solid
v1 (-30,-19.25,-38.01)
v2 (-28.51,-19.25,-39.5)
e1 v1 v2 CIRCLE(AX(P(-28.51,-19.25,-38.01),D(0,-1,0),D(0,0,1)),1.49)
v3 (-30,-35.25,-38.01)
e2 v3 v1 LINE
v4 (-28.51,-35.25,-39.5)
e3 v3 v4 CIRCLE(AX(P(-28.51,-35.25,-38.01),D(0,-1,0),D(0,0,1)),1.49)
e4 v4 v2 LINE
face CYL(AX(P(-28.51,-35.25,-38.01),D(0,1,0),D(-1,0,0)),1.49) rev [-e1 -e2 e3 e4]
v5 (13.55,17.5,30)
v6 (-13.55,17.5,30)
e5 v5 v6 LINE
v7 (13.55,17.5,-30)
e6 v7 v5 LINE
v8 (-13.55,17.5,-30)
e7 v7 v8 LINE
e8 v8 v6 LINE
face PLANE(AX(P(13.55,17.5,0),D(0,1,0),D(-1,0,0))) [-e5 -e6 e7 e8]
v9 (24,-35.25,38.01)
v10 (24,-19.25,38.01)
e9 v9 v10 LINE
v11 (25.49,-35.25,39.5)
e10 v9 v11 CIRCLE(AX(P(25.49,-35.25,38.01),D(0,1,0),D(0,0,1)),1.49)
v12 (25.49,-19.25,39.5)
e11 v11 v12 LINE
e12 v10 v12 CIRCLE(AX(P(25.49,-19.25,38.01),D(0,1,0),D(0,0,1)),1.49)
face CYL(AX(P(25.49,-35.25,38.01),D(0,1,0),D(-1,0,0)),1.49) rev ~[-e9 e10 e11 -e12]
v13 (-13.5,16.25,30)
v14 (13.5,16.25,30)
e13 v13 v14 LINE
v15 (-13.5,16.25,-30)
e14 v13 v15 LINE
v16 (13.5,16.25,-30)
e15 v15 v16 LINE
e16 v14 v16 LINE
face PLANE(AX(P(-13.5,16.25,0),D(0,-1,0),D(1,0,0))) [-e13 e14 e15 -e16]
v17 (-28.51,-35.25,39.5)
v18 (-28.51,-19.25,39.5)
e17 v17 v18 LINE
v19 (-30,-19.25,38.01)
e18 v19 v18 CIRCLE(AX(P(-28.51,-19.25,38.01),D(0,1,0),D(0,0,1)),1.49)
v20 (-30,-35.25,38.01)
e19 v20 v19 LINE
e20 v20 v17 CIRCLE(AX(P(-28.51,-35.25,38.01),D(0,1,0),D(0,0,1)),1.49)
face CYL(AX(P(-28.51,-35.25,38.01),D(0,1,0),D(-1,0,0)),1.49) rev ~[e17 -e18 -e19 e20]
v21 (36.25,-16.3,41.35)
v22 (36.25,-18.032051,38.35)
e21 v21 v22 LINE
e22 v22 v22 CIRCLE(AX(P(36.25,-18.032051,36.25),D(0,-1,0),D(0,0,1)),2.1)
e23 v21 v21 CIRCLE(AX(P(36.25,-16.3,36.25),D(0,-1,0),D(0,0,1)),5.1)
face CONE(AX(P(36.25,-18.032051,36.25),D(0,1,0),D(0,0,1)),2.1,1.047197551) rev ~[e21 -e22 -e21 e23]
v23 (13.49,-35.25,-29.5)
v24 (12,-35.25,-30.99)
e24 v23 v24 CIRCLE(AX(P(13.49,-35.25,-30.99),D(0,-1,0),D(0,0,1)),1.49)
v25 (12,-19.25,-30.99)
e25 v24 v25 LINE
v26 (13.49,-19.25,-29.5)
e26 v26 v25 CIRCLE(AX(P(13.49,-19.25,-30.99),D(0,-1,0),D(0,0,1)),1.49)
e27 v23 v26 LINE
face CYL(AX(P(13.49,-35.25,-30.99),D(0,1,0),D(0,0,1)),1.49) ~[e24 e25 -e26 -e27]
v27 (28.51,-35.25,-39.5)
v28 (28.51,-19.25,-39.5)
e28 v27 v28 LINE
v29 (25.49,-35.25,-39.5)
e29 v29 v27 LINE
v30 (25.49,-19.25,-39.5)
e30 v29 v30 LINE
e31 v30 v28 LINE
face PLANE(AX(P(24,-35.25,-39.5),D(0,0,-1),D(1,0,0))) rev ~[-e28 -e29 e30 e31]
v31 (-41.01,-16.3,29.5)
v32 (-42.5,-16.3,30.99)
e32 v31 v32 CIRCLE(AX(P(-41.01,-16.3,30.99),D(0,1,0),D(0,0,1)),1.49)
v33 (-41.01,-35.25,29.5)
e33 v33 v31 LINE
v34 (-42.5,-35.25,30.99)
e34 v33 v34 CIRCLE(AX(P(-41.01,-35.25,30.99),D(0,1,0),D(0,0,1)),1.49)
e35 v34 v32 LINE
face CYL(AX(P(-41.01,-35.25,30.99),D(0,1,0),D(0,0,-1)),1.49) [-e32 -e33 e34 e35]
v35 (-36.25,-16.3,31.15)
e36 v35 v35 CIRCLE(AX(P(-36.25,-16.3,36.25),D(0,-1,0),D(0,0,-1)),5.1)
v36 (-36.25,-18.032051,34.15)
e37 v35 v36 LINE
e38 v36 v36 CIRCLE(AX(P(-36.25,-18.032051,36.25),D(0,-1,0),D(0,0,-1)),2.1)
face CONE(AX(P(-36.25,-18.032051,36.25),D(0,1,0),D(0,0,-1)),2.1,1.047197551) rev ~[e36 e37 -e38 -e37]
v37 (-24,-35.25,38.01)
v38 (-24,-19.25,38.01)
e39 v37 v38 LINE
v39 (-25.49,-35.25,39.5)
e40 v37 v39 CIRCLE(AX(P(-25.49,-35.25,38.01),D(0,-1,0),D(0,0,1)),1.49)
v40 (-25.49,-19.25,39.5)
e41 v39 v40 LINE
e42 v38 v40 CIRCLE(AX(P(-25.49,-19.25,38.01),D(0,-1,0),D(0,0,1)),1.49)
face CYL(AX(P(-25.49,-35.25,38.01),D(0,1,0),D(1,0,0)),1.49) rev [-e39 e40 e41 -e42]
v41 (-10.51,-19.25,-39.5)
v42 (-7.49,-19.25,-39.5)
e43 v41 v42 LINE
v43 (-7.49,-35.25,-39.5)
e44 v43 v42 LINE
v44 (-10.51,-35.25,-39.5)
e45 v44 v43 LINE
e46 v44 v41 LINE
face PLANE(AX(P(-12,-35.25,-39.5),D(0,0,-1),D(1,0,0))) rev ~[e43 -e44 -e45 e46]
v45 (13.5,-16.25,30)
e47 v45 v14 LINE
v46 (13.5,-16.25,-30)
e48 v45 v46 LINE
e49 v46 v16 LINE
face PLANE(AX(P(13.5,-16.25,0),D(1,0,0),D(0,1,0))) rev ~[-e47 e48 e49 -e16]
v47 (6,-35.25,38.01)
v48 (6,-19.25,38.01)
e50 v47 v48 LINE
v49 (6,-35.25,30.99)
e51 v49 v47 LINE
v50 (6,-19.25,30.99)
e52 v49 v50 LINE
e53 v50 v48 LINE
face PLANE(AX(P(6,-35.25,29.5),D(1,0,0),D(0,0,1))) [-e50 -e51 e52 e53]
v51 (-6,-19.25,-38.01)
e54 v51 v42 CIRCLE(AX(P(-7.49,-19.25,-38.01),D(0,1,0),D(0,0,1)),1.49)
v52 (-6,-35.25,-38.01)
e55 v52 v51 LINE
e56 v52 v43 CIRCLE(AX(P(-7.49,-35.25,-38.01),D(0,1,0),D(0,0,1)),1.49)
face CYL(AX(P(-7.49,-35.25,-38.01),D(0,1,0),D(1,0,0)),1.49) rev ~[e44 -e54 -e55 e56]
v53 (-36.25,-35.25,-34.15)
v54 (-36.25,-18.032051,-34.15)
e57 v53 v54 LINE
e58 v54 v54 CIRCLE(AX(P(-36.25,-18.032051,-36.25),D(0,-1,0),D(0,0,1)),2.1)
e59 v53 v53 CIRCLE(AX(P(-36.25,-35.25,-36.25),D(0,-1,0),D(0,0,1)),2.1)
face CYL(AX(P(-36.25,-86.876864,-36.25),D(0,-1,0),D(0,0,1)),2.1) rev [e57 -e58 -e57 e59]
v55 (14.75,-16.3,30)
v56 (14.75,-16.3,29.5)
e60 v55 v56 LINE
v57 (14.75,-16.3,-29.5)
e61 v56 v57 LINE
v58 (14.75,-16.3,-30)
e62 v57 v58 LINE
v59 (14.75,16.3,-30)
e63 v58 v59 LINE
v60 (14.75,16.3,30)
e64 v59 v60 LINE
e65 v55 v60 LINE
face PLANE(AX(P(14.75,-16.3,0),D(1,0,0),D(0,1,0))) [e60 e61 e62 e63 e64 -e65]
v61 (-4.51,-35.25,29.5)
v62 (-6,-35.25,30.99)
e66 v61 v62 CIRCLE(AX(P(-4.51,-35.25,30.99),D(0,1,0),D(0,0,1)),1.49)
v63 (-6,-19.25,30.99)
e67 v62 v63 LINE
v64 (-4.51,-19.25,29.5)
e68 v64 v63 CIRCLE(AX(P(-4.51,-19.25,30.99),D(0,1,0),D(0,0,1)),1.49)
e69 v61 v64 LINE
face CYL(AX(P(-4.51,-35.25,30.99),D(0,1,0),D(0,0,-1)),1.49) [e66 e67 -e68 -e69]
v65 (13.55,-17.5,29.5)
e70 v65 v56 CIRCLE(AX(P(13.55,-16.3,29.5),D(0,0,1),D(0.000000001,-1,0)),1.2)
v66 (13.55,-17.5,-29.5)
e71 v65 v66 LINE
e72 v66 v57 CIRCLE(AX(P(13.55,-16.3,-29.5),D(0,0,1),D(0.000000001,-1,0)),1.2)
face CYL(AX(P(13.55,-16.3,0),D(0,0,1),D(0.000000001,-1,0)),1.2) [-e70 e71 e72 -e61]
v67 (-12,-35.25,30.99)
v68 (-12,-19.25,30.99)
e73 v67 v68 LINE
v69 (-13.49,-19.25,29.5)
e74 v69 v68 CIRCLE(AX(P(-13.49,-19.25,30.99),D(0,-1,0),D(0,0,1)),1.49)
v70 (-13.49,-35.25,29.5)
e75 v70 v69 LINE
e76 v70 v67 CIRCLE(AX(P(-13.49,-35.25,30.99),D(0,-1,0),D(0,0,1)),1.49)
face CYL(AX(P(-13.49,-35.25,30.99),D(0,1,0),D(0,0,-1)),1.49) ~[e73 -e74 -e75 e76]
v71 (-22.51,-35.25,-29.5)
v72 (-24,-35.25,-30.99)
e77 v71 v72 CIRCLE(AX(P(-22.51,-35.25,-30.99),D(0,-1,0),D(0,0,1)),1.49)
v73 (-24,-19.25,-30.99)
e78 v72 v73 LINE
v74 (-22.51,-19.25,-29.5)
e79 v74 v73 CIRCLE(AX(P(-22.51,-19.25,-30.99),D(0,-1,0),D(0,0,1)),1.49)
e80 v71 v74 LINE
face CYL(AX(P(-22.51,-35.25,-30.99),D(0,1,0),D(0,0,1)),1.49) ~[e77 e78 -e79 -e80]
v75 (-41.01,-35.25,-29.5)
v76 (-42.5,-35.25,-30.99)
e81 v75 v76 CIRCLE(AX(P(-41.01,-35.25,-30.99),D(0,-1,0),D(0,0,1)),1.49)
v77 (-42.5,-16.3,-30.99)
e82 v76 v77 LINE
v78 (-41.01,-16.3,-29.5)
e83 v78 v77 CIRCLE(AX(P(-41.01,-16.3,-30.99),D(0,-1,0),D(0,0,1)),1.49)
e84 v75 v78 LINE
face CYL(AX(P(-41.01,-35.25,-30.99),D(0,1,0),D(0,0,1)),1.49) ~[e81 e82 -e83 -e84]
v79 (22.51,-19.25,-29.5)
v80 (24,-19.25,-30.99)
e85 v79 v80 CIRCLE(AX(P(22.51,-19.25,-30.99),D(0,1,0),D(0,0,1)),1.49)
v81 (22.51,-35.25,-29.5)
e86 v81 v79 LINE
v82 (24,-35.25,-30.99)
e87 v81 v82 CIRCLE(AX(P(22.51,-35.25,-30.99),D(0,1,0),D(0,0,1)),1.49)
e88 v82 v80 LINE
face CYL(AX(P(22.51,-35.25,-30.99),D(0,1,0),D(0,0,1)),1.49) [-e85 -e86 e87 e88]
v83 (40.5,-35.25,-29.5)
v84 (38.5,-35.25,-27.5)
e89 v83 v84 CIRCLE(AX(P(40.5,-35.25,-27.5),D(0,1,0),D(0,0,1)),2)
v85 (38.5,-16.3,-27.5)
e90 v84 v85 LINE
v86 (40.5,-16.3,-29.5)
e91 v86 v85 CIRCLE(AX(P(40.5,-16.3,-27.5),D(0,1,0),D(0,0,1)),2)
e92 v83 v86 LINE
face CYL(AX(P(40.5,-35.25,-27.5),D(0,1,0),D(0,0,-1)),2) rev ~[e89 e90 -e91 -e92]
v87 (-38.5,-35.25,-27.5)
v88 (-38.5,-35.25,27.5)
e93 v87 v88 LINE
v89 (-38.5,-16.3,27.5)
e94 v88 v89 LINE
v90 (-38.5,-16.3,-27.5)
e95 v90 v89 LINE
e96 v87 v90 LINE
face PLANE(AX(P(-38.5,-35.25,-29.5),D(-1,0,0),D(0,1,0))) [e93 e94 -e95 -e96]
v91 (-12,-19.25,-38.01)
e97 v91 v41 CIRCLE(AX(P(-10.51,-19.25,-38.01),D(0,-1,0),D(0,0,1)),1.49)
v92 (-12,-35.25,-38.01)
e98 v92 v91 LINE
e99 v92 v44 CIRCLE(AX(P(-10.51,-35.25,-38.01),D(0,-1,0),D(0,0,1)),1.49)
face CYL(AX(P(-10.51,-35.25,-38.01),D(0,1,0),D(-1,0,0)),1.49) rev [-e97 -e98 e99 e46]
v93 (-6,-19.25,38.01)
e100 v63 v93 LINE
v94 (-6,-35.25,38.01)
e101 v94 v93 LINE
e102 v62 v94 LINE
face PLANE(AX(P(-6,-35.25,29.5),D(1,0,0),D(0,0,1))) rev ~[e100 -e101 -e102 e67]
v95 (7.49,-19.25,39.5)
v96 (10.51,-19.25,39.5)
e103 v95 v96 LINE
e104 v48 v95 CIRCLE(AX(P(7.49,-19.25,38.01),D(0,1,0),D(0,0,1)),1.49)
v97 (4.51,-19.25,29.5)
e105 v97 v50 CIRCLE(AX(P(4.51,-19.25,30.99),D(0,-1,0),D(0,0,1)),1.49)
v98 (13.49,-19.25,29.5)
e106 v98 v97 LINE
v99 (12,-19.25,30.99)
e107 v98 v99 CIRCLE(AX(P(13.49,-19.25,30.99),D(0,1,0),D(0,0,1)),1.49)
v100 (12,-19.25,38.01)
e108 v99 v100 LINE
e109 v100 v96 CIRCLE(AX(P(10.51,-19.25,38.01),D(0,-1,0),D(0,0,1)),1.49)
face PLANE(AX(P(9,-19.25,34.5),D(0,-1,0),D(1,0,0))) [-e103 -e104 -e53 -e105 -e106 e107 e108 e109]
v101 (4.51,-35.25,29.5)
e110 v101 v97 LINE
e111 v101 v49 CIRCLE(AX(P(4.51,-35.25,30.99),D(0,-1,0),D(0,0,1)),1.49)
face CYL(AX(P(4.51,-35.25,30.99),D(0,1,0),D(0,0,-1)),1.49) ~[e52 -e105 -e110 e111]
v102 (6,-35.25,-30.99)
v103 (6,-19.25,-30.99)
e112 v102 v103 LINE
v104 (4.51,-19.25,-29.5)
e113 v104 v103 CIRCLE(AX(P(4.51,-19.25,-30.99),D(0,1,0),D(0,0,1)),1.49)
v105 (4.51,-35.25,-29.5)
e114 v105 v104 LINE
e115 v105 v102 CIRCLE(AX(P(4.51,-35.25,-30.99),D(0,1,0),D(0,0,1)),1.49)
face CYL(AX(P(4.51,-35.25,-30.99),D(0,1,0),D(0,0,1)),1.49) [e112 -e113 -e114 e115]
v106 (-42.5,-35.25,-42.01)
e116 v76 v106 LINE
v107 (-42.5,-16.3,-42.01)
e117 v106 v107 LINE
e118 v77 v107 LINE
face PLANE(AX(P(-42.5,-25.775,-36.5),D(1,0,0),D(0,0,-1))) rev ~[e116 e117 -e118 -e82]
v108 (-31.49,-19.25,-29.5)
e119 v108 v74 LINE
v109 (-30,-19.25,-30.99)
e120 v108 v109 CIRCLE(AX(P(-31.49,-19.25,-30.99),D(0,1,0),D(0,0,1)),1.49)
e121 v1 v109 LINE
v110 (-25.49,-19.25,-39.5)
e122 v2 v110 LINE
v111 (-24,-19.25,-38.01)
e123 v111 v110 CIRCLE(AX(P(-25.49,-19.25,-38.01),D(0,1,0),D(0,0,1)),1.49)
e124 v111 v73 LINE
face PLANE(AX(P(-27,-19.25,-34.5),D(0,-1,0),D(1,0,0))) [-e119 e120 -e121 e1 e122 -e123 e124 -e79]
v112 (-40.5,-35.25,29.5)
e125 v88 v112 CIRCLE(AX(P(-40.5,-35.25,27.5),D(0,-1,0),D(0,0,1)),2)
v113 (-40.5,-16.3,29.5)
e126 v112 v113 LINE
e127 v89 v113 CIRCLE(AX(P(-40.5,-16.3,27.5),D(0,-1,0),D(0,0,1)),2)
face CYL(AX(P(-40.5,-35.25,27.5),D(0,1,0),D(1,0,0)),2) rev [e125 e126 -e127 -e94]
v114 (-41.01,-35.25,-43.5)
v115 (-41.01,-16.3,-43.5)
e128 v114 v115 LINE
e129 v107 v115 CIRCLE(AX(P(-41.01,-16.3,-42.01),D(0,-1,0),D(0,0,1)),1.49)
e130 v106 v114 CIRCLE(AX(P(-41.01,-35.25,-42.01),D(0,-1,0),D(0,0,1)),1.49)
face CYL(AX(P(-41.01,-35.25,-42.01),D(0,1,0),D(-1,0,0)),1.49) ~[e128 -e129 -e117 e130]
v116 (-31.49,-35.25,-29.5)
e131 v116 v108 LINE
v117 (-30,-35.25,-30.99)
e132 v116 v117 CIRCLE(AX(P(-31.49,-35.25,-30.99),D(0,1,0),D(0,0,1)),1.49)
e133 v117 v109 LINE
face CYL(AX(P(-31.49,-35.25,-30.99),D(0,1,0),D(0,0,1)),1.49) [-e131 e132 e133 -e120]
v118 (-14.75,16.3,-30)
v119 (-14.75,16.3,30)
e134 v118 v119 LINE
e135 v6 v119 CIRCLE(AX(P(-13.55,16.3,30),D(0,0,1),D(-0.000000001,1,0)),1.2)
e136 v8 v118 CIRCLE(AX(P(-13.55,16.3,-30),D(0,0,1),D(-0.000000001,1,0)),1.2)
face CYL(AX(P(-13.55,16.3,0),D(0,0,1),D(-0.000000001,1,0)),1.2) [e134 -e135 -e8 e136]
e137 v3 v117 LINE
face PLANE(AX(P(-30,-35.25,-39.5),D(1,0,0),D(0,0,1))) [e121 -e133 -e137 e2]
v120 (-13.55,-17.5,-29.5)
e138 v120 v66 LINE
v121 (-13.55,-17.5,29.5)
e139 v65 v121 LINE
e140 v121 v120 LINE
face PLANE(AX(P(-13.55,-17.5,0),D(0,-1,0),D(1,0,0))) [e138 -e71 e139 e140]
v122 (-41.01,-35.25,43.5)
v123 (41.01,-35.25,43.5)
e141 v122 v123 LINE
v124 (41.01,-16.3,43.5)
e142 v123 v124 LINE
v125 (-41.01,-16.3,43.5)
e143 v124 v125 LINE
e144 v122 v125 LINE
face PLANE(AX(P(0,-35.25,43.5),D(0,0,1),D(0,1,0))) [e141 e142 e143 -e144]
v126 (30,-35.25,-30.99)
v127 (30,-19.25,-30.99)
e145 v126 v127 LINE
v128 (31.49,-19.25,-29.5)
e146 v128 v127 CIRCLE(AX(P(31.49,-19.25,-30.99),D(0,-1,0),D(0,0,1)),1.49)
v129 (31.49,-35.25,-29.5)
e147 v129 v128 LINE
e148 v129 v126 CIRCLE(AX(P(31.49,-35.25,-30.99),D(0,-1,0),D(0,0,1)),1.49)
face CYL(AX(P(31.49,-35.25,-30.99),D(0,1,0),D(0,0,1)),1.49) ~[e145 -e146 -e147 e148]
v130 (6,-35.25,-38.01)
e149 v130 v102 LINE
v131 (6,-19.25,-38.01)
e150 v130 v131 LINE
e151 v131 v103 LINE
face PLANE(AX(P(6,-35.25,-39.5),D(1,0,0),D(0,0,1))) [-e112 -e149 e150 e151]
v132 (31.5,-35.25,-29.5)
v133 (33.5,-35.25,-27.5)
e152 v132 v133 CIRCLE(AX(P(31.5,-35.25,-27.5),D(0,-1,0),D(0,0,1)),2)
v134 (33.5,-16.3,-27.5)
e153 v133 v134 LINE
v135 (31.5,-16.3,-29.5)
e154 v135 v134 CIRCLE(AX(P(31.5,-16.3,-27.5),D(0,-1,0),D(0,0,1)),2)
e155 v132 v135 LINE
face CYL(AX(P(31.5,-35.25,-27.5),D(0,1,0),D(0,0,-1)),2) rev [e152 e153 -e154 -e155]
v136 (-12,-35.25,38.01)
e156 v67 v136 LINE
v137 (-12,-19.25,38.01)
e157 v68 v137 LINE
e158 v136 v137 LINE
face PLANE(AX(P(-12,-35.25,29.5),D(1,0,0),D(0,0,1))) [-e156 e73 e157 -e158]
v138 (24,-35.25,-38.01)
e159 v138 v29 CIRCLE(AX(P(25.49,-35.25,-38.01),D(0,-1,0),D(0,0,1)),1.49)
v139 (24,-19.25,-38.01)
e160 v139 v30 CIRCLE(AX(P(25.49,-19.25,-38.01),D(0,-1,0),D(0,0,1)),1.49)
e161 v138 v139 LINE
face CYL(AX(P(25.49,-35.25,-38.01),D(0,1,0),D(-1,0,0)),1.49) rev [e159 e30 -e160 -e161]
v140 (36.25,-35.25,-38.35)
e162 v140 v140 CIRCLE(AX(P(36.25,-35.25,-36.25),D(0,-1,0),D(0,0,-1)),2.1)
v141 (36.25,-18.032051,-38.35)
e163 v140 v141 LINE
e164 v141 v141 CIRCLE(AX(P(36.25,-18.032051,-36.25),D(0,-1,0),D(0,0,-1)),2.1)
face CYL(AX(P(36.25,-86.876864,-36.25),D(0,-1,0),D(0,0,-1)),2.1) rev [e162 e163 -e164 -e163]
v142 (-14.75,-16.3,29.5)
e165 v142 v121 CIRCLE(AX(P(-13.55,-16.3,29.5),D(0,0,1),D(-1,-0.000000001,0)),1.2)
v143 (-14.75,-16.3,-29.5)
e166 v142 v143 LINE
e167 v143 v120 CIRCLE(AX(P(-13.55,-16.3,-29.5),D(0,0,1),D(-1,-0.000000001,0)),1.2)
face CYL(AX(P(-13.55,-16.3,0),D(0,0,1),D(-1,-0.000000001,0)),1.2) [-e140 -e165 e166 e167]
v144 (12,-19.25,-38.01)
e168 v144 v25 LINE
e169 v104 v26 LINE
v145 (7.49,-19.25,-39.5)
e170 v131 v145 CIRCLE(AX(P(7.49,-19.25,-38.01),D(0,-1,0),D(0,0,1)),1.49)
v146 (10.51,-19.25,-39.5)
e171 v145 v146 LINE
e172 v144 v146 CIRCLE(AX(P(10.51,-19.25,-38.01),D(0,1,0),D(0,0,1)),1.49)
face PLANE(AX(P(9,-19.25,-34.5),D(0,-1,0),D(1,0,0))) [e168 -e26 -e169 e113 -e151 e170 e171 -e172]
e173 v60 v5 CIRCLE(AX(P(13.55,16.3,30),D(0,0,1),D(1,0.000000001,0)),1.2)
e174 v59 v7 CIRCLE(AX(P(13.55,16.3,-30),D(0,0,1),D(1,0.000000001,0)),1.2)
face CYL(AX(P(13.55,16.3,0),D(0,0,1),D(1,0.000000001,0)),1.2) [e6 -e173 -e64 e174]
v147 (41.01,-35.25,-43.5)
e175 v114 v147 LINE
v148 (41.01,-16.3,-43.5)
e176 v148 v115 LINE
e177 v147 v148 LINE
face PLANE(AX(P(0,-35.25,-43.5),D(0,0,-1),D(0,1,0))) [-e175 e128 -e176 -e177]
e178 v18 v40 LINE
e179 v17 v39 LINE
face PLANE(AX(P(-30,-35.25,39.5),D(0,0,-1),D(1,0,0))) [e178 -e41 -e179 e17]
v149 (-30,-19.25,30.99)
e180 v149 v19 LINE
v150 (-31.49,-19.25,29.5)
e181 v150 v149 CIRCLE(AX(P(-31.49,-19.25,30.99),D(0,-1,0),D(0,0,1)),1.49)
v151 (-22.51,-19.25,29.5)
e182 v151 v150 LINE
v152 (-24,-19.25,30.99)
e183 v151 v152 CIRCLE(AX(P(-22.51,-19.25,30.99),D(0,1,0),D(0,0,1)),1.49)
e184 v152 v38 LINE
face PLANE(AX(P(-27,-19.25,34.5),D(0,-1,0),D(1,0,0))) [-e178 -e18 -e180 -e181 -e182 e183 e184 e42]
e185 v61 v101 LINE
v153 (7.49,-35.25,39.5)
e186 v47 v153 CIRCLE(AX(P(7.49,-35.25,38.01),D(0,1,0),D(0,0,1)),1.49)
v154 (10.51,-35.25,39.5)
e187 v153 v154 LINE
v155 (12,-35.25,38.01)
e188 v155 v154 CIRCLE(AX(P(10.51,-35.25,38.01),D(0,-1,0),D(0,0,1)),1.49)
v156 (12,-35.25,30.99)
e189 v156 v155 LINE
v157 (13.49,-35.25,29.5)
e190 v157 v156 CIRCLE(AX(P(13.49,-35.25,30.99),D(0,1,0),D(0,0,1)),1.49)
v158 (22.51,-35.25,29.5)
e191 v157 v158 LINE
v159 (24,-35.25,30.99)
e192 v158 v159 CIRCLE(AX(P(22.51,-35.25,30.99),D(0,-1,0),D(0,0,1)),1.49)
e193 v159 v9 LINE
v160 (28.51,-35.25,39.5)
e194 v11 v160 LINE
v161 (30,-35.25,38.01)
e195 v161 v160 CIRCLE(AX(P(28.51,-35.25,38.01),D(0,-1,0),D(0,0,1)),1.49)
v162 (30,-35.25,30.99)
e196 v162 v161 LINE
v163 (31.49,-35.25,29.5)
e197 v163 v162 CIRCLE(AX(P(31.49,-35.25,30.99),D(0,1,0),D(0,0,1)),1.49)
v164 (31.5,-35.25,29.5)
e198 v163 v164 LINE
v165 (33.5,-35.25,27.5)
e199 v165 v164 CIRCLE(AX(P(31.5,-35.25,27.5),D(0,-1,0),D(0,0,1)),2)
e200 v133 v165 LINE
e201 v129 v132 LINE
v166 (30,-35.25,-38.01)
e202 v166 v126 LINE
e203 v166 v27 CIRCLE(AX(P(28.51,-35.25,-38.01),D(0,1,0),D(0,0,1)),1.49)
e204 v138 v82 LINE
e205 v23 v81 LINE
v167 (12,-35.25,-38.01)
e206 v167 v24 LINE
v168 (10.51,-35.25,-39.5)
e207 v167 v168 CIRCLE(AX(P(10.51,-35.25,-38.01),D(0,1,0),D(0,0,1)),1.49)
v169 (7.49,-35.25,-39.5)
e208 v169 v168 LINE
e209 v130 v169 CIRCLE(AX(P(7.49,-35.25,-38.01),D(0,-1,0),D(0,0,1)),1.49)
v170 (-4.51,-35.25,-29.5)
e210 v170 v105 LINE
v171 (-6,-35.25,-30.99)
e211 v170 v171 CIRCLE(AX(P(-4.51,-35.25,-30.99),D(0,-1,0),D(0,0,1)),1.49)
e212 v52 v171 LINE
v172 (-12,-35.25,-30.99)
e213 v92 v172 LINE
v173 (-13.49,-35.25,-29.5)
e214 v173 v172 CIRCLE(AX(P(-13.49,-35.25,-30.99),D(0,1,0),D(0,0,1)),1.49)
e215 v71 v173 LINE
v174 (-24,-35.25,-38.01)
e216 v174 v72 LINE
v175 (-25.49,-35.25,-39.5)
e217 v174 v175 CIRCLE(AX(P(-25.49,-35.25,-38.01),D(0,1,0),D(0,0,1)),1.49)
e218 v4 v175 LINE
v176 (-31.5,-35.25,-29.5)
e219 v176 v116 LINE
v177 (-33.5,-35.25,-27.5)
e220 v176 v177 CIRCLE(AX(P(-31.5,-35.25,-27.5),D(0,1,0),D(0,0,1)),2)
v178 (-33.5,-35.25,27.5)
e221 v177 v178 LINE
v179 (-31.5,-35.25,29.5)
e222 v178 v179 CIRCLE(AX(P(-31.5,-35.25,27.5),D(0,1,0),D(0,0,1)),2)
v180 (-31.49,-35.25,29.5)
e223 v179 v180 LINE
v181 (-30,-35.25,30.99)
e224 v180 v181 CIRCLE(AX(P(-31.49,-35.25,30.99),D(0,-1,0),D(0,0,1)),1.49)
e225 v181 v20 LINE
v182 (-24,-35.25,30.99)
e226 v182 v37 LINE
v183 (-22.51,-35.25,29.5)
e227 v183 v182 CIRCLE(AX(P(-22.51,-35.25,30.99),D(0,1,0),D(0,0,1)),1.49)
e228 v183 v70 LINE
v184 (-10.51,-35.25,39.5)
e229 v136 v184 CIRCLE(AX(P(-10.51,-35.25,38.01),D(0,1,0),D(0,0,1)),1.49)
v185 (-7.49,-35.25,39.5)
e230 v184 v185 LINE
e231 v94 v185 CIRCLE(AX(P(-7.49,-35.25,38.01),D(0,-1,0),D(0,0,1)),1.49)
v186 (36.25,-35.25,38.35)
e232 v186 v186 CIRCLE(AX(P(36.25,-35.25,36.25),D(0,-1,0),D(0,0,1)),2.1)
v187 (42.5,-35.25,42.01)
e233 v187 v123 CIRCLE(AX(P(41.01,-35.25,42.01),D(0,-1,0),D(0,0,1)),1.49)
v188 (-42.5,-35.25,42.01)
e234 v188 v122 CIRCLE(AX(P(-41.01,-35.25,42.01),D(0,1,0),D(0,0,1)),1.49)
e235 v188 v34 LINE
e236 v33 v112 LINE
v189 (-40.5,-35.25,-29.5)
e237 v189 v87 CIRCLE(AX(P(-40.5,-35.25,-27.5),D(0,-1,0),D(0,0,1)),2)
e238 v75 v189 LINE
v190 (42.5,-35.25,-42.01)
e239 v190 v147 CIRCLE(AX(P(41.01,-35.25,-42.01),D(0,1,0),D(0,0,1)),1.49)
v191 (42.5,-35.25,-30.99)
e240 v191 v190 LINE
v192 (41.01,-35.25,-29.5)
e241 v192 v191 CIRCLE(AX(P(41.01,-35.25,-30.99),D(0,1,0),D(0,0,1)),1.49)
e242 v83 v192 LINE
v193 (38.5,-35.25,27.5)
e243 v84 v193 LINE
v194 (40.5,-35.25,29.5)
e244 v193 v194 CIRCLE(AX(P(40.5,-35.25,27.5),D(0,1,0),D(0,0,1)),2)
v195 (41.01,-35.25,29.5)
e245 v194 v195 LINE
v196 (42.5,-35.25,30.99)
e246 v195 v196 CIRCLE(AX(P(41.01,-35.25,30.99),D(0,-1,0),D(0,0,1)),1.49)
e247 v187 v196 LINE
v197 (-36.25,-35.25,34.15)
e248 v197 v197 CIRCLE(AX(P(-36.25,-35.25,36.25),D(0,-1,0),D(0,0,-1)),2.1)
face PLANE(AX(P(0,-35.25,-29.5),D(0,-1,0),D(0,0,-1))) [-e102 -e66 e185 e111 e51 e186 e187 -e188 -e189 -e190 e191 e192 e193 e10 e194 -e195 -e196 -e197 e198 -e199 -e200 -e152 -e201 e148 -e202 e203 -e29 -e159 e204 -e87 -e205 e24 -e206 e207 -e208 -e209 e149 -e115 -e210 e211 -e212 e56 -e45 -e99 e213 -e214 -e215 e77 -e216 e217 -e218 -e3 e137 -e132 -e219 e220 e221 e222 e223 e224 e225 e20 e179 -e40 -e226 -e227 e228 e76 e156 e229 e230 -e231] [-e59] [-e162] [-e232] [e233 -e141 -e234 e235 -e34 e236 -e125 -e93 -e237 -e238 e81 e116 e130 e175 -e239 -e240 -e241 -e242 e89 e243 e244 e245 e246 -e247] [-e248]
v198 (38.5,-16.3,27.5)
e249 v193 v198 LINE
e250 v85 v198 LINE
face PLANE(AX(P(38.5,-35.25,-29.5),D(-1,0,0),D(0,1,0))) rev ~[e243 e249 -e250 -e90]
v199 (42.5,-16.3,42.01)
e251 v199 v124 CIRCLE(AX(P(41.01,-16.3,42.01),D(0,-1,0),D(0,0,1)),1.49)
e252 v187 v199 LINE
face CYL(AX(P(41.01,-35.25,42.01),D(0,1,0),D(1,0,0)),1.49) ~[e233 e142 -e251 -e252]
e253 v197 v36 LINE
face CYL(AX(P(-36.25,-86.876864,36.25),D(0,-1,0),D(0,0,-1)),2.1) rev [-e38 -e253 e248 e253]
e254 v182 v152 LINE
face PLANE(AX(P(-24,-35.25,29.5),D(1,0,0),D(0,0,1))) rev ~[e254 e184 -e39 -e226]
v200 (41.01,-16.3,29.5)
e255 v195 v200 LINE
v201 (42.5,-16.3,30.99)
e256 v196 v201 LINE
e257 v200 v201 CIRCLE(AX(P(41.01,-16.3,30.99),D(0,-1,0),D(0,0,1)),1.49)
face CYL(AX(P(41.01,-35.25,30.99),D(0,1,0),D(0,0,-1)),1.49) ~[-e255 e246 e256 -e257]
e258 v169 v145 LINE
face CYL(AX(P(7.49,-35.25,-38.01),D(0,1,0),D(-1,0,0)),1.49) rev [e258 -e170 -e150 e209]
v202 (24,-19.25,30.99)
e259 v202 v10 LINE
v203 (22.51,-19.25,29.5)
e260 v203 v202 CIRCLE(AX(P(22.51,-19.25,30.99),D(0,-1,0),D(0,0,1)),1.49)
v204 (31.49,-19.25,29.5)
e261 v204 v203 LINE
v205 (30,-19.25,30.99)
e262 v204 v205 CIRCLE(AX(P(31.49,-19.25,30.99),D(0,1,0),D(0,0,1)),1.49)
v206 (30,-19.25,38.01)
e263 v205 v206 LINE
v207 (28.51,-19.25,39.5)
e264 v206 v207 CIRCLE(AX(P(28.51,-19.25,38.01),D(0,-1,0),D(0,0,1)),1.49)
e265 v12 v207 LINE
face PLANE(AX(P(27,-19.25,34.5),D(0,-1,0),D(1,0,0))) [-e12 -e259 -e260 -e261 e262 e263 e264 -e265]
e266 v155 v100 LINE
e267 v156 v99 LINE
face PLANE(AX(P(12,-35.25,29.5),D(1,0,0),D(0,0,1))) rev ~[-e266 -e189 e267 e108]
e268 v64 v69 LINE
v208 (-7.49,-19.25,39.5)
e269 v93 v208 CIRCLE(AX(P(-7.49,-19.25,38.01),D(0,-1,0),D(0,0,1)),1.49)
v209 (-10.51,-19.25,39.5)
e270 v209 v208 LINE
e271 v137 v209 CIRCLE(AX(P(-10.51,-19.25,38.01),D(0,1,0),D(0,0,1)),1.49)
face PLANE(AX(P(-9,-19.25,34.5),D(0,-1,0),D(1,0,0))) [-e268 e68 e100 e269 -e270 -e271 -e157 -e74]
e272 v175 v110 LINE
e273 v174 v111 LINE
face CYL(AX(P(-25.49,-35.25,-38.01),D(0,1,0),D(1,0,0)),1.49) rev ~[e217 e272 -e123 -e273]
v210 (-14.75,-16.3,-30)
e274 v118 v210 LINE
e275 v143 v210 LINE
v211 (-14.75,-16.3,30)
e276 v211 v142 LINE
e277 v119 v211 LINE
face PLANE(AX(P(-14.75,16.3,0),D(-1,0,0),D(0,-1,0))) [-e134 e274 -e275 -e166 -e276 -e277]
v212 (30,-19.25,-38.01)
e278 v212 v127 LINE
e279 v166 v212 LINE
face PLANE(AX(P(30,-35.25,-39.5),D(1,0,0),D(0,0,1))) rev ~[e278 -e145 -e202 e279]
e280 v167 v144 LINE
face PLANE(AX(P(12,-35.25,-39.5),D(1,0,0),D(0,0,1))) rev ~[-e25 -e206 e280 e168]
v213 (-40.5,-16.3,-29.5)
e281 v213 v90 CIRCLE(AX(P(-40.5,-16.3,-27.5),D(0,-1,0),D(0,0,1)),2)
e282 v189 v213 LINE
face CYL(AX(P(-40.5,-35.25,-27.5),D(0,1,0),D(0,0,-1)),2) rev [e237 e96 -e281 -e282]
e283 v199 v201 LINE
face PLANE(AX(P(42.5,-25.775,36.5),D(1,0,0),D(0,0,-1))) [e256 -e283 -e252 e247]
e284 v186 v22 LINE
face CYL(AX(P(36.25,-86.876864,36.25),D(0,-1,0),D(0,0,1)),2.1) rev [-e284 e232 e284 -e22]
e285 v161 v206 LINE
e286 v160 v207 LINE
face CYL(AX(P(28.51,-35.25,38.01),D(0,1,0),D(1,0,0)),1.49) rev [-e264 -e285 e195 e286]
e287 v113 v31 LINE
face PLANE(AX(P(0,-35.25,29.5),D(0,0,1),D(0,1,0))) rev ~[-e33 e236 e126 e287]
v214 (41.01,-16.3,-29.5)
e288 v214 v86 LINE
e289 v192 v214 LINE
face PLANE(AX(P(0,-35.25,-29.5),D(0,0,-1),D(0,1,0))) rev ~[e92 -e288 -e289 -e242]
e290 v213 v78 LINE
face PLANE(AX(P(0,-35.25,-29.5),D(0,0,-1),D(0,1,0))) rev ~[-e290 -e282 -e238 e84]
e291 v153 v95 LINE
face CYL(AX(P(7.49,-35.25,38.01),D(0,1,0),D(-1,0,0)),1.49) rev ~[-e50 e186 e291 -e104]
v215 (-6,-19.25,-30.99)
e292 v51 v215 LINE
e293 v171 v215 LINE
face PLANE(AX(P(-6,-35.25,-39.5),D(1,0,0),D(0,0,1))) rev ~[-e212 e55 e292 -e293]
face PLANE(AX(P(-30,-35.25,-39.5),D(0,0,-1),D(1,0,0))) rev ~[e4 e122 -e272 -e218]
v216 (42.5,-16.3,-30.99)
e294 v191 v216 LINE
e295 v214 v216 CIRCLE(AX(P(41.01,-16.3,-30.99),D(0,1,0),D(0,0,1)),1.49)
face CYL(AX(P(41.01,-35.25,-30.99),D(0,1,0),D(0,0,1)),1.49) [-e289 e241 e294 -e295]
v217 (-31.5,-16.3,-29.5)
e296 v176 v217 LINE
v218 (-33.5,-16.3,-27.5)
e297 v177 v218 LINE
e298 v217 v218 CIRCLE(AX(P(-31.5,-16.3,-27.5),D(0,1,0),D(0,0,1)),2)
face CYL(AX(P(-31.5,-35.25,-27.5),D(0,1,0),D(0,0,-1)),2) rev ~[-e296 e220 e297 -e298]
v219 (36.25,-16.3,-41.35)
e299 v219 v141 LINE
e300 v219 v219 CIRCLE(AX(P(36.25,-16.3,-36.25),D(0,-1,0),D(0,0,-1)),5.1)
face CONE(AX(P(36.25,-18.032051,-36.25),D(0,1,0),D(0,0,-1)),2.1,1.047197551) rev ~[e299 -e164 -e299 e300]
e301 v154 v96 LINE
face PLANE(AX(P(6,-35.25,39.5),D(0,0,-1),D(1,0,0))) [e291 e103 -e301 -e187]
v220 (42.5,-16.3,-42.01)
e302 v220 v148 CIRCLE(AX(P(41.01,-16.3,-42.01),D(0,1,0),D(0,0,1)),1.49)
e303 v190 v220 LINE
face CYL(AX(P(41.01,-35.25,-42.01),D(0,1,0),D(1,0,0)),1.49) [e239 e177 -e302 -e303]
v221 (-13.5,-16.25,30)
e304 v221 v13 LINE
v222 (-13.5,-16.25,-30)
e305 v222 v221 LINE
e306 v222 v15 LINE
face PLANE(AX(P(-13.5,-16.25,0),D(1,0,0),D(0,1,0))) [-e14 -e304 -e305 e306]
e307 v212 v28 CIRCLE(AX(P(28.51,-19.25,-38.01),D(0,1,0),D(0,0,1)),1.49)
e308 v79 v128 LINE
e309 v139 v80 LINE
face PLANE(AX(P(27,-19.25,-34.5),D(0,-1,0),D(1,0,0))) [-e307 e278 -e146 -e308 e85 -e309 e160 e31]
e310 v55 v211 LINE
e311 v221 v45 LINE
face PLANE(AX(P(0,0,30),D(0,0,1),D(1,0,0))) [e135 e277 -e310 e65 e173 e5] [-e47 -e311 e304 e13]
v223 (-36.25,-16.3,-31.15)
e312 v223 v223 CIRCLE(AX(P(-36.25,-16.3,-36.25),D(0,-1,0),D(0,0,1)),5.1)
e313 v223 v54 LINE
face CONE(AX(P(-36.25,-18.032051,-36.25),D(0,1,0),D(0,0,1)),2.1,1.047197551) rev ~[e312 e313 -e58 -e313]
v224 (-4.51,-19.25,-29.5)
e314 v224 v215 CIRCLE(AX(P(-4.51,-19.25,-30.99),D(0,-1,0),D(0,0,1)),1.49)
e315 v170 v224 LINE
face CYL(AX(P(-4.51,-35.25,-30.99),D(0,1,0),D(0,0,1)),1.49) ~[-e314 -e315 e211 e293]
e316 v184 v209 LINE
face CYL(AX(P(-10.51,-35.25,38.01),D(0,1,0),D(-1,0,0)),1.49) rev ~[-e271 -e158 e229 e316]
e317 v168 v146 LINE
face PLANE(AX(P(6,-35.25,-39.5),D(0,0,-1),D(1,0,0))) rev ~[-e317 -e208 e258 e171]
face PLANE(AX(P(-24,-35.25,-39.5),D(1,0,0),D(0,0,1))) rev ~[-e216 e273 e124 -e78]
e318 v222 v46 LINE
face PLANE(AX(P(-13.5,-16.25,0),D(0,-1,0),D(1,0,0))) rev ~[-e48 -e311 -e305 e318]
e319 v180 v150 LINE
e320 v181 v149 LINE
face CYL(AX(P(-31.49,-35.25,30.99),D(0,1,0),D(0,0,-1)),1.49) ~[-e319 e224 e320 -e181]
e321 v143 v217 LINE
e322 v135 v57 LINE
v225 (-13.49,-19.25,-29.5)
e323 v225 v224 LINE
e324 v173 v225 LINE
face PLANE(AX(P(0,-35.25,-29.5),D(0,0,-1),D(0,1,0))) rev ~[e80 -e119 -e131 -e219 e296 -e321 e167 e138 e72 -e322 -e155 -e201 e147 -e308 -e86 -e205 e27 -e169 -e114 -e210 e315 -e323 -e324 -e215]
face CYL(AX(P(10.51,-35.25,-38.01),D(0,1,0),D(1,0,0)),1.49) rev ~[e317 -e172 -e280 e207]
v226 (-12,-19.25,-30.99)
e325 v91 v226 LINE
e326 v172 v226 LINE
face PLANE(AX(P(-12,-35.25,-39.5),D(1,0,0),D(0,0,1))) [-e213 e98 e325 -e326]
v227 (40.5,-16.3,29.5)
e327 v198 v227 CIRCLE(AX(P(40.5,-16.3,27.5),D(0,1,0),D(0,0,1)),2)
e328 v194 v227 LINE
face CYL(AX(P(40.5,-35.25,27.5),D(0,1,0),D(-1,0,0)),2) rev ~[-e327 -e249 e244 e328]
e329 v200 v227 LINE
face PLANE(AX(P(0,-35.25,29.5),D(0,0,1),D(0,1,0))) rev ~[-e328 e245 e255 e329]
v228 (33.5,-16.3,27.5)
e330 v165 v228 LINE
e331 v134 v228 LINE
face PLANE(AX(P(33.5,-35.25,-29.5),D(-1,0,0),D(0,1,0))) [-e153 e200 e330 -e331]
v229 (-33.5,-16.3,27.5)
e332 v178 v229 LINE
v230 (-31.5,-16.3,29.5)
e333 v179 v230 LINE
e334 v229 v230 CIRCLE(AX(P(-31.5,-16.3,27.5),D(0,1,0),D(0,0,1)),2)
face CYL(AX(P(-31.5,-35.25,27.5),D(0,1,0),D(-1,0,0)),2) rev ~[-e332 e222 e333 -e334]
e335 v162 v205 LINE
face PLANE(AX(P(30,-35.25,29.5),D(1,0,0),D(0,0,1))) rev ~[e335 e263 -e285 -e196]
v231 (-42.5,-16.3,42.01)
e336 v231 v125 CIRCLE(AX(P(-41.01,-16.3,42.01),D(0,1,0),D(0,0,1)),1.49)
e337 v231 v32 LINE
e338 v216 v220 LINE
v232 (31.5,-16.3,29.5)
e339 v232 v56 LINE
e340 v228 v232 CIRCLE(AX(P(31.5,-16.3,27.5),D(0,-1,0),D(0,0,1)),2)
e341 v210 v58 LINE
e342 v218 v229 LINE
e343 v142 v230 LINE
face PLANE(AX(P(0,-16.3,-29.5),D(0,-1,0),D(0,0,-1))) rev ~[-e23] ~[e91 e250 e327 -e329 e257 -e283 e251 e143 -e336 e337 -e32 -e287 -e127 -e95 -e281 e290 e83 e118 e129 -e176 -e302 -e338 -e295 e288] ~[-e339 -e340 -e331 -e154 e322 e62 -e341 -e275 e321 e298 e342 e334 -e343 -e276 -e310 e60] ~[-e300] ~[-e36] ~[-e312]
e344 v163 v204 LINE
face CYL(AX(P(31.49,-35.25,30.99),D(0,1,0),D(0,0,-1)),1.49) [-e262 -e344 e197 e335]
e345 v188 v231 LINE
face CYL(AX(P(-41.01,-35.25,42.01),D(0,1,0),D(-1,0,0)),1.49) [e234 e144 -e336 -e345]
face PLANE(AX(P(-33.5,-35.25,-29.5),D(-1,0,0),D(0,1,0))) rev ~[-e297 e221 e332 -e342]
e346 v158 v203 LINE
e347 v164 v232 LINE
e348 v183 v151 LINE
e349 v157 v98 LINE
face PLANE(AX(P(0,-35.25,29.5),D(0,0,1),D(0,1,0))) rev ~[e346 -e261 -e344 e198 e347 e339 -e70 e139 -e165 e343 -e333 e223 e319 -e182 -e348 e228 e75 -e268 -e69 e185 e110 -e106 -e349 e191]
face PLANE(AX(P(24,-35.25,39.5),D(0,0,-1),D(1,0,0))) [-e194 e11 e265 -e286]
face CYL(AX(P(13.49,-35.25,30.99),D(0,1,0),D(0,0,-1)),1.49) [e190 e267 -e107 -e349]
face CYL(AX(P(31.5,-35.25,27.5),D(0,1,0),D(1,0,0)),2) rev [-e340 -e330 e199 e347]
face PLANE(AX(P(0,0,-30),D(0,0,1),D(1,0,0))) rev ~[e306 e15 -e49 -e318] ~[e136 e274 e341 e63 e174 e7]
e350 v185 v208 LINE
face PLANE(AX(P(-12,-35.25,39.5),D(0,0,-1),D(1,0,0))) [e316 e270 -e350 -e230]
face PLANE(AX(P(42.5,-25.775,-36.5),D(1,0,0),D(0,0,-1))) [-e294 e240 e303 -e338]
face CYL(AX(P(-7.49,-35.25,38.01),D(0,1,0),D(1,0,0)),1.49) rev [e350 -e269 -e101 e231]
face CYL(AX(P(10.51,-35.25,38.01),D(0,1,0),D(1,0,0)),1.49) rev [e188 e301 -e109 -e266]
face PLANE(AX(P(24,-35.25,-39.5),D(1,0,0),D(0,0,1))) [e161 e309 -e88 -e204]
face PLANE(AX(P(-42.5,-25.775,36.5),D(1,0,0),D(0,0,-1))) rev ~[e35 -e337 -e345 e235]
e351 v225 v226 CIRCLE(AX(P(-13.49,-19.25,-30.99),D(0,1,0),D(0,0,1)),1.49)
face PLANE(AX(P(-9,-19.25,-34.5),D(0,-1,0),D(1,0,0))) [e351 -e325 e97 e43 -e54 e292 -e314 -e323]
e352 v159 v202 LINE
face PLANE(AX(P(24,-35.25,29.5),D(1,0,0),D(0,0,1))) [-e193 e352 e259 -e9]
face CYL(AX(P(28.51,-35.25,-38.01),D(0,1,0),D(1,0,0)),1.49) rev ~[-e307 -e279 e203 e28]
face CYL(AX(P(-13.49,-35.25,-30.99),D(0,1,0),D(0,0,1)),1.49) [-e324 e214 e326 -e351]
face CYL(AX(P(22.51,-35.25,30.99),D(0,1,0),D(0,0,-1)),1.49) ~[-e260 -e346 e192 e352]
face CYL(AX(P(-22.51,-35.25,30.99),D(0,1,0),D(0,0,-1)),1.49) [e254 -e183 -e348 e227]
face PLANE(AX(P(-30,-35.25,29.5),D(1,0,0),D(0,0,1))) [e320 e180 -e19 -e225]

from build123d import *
from OCP.BRepFilletAPI import BRepFilletAPI_MakeChamfer

# Parameters (mm, degrees)
SKETCH1_W               = 27
SKETCH1_H               = 32.5
BOSS_EXTRUDE1_DEPTH     = 30
SKETCH2_W               = 14
SKETCH2_H               = 18.95
BOSS_EXTRUDE2_DEPTH     = 42.5
SKETCH3_W               = 6
SKETCH3_H               = 10
CUT_EXTRUDE1_DEPTH      = 16
FILLET1_R               = 1.49
CUT_EXTRUDE2_DEPTH      = 70.576863971
CUT_EXTRUDE2_DEPTH_BACK = 70.576863971
SKETCH4_R               = 2.1
CHAMFER1_SIZE           = 3
CHAMFER1_SIZE2          = 1.732050808
SKETCH5_W               = 5
SKETCH5_H               = 18.95
BOSS_EXTRUDE3_DEPTH     = 59
FILLET2_R               = 2


with BuildPart() as part:
    # Sketch1 → Boss-Extrude1 (new, symmetric)
    with BuildSketch(Plane.XY):
        with BuildLine():
            Line((14.75, -16.3), (14.75, 16.3))
            ThreePointArc((14.75, 16.3), (14.398528137, 17.148528137), (13.55, 17.5))
            Line((13.55, 17.5), (-13.55, 17.5))
            ThreePointArc((-13.55, 17.5), (-14.398528137, 17.148528137), (-14.75, 16.3))
            Line((-14.75, 16.3), (-14.75, -16.3))
            ThreePointArc((-14.75, -16.3), (-14.398528137, -17.148528137), (-13.55, -17.5))
            Line((-13.55, -17.5), (13.55, -17.5))
            ThreePointArc((13.55, -17.5), (14.398528137, -17.148528137), (14.75, -16.3))
        make_face()
        Rectangle(SKETCH1_W, SKETCH1_H, mode=Mode.SUBTRACT)
    extrude(amount=BOSS_EXTRUDE1_DEPTH, both=True)

    # Sketch2 → Boss-Extrude2 (add, symmetric)
    with BuildSketch(Plane(origin=(0, 0, 0), x_dir=(0, 0, -1), z_dir=(1, 0, 0))):
        with Locations((-36.5, -25.775)):
            Rectangle(SKETCH2_W, SKETCH2_H)
        with Locations((36.5, -25.775)):
            Rectangle(SKETCH2_W, SKETCH2_H)
    extrude(amount=BOSS_EXTRUDE2_DEPTH, both=True)

    # Sketch3 → Cut-Extrude1 (cut)
    with BuildSketch(Plane.XZ.offset(35.25)):
        with Locations((-27, 34.5)):
            Rectangle(SKETCH3_W, SKETCH3_H)
        with Locations((-9, 34.5)):
            Rectangle(SKETCH3_W, SKETCH3_H)
        with Locations((27, 34.5)):
            Rectangle(SKETCH3_W, SKETCH3_H)
        with Locations((9, 34.5)):
            Rectangle(SKETCH3_W, SKETCH3_H)
        with Locations((9, -34.5)):
            Rectangle(SKETCH3_W, SKETCH3_H)
        with Locations((27, -34.5)):
            Rectangle(SKETCH3_W, SKETCH3_H)
        with Locations((-9, -34.5)):
            Rectangle(SKETCH3_W, SKETCH3_H)
        with Locations((-27, -34.5)):
            Rectangle(SKETCH3_W, SKETCH3_H)
    extrude(amount=-CUT_EXTRUDE1_DEPTH, mode=Mode.SUBTRACT)

    # Fillet1
    fillet1_edges = [part.edges().sort_by_distance(p)[0] for p in [
        (6, -27.25, -39.5),
        (12, -27.25, 39.5),
        (12, -27.25, 29.5),
        (6, -27.25, 29.5),
        (6, -27.25, 39.5),
        (30, -27.25, 39.5),
        (30, -27.25, 29.5),
        (24, -27.25, 29.5),
        (24, -27.25, 39.5),
        (-12, -27.25, 29.5),
        (-12, -27.25, 39.5),
        (-6, -27.25, 39.5),
        (-6, -27.25, 29.5),
        (24, -27.25, -29.5),
        (30, -27.25, -29.5),
        (30, -27.25, -39.5),
        (24, -27.25, -39.5),
        (-12, -27.25, -29.5),
        (-6, -27.25, -29.5),
        (-6, -27.25, -39.5),
        (-12, -27.25, -39.5),
        (-30, -27.25, -29.5),
        (-24, -27.25, -29.5),
        (-24, -27.25, -39.5),
        (-30, -27.25, -39.5),
        (-30, -27.25, 29.5),
        (-30, -27.25, 39.5),
        (-24, -27.25, 39.5),
        (-24, -27.25, 29.5),
        (-42.5, -25.775, 29.5),
        (-42.5, -25.775, 43.5),
        (42.5, -25.775, 29.5),
        (42.5, -25.775, 43.5),
        (-42.5, -25.775, -29.5),
        (-42.5, -25.775, -43.5),
        (42.5, -25.775, -29.5),
        (42.5, -25.775, -43.5),
        (6, -27.25, -29.5),
        (12, -27.25, -29.5),
        (12, -27.25, -39.5),
    ]]
    fillet(fillet1_edges, radius=FILLET1_R)

    # Sketch4 → Cut-Extrude2 (cut, two sides: drawn at the far end of the back side and taken through both)
    with BuildSketch(Plane(origin=(0, -16.3, 0), x_dir=(1, 0, 0), z_dir=(0, 1, 0)).offset(-CUT_EXTRUDE2_DEPTH_BACK)):
        with Locations(Location((36.25, -36.25, 0), (0, 0, 270))):
            Circle(SKETCH4_R)
        with Locations(Location((-36.25, -36.25, 0), (0, 0, 90))):
            Circle(SKETCH4_R)
        with Locations(Location((-36.25, 36.25, 0), (0, 0, 270))):
            Circle(SKETCH4_R)
        with Locations(Location((36.25, 36.25, 0), (0, 0, 90))):
            Circle(SKETCH4_R)
    extrude(amount=CUT_EXTRUDE2_DEPTH + CUT_EXTRUDE2_DEPTH_BACK, mode=Mode.SUBTRACT)

    # Chamfer1: one chamfer whose edges measure the first distance from different faces: ONE call of the kernel's chamfer builder (chamfer() names one face for all edges)
    chamfer1_edges_1 = [part.edges().sort_by_distance(p)[0] for p in [
        (36.25, -16.3, -34.15),
        (-36.25, -16.3, -38.35),
    ]]
    chamfer1_side_1 = [part.faces().sort_by_distance(p)[0] for p in [
        (0, -16.3, -36.592952532),
    ]]
    chamfer1_edges_2 = [part.edges().sort_by_distance(p)[0] for p in [
        (-36.25, -16.3, 38.35),
        (36.25, -16.3, 34.15),
    ]]
    chamfer1_side_2 = [part.faces().sort_by_distance(p)[0] for p in [
        (0, -16.3, 36.592952532),
    ]]
    chamfer1 = BRepFilletAPI_MakeChamfer(part.part.solid().wrapped)
    for e in chamfer1_edges_1:
        chamfer1.Add(CHAMFER1_SIZE, CHAMFER1_SIZE2, e.wrapped, chamfer1_side_1[0].wrapped)  # the first distance lies on this face
    for e in chamfer1_edges_2:
        chamfer1.Add(CHAMFER1_SIZE, CHAMFER1_SIZE2, e.wrapped, chamfer1_side_2[0].wrapped)  # the first distance lies on this face
    add(Compound.cast(chamfer1.Shape()), mode=Mode.REPLACE)

    # Sketch5 → Boss-Extrude3 (add)
    with BuildSketch(Plane.XY.offset(-29.5)):
        with Locations((-36, -25.775)):
            Rectangle(SKETCH5_W, SKETCH5_H)
        with Locations((36, -25.775)):
            Rectangle(SKETCH5_W, SKETCH5_H)
    extrude(amount=BOSS_EXTRUDE3_DEPTH)

    # Fillet2
    fillet2_edges = [part.edges().sort_by_distance(p)[0] for p in [
        (-38.5, -25.775, -29.5),
        (-33.5, -25.775, -29.5),
        (-38.5, -25.775, 29.5),
        (-33.5, -25.775, 29.5),
        (33.5, -25.775, -29.5),
        (38.5, -25.775, -29.5),
        (38.5, -25.775, 29.5),
        (33.5, -25.775, 29.5),
    ]]
    fillet(fillet2_edges, radius=FILLET2_R)


solid = part.part
